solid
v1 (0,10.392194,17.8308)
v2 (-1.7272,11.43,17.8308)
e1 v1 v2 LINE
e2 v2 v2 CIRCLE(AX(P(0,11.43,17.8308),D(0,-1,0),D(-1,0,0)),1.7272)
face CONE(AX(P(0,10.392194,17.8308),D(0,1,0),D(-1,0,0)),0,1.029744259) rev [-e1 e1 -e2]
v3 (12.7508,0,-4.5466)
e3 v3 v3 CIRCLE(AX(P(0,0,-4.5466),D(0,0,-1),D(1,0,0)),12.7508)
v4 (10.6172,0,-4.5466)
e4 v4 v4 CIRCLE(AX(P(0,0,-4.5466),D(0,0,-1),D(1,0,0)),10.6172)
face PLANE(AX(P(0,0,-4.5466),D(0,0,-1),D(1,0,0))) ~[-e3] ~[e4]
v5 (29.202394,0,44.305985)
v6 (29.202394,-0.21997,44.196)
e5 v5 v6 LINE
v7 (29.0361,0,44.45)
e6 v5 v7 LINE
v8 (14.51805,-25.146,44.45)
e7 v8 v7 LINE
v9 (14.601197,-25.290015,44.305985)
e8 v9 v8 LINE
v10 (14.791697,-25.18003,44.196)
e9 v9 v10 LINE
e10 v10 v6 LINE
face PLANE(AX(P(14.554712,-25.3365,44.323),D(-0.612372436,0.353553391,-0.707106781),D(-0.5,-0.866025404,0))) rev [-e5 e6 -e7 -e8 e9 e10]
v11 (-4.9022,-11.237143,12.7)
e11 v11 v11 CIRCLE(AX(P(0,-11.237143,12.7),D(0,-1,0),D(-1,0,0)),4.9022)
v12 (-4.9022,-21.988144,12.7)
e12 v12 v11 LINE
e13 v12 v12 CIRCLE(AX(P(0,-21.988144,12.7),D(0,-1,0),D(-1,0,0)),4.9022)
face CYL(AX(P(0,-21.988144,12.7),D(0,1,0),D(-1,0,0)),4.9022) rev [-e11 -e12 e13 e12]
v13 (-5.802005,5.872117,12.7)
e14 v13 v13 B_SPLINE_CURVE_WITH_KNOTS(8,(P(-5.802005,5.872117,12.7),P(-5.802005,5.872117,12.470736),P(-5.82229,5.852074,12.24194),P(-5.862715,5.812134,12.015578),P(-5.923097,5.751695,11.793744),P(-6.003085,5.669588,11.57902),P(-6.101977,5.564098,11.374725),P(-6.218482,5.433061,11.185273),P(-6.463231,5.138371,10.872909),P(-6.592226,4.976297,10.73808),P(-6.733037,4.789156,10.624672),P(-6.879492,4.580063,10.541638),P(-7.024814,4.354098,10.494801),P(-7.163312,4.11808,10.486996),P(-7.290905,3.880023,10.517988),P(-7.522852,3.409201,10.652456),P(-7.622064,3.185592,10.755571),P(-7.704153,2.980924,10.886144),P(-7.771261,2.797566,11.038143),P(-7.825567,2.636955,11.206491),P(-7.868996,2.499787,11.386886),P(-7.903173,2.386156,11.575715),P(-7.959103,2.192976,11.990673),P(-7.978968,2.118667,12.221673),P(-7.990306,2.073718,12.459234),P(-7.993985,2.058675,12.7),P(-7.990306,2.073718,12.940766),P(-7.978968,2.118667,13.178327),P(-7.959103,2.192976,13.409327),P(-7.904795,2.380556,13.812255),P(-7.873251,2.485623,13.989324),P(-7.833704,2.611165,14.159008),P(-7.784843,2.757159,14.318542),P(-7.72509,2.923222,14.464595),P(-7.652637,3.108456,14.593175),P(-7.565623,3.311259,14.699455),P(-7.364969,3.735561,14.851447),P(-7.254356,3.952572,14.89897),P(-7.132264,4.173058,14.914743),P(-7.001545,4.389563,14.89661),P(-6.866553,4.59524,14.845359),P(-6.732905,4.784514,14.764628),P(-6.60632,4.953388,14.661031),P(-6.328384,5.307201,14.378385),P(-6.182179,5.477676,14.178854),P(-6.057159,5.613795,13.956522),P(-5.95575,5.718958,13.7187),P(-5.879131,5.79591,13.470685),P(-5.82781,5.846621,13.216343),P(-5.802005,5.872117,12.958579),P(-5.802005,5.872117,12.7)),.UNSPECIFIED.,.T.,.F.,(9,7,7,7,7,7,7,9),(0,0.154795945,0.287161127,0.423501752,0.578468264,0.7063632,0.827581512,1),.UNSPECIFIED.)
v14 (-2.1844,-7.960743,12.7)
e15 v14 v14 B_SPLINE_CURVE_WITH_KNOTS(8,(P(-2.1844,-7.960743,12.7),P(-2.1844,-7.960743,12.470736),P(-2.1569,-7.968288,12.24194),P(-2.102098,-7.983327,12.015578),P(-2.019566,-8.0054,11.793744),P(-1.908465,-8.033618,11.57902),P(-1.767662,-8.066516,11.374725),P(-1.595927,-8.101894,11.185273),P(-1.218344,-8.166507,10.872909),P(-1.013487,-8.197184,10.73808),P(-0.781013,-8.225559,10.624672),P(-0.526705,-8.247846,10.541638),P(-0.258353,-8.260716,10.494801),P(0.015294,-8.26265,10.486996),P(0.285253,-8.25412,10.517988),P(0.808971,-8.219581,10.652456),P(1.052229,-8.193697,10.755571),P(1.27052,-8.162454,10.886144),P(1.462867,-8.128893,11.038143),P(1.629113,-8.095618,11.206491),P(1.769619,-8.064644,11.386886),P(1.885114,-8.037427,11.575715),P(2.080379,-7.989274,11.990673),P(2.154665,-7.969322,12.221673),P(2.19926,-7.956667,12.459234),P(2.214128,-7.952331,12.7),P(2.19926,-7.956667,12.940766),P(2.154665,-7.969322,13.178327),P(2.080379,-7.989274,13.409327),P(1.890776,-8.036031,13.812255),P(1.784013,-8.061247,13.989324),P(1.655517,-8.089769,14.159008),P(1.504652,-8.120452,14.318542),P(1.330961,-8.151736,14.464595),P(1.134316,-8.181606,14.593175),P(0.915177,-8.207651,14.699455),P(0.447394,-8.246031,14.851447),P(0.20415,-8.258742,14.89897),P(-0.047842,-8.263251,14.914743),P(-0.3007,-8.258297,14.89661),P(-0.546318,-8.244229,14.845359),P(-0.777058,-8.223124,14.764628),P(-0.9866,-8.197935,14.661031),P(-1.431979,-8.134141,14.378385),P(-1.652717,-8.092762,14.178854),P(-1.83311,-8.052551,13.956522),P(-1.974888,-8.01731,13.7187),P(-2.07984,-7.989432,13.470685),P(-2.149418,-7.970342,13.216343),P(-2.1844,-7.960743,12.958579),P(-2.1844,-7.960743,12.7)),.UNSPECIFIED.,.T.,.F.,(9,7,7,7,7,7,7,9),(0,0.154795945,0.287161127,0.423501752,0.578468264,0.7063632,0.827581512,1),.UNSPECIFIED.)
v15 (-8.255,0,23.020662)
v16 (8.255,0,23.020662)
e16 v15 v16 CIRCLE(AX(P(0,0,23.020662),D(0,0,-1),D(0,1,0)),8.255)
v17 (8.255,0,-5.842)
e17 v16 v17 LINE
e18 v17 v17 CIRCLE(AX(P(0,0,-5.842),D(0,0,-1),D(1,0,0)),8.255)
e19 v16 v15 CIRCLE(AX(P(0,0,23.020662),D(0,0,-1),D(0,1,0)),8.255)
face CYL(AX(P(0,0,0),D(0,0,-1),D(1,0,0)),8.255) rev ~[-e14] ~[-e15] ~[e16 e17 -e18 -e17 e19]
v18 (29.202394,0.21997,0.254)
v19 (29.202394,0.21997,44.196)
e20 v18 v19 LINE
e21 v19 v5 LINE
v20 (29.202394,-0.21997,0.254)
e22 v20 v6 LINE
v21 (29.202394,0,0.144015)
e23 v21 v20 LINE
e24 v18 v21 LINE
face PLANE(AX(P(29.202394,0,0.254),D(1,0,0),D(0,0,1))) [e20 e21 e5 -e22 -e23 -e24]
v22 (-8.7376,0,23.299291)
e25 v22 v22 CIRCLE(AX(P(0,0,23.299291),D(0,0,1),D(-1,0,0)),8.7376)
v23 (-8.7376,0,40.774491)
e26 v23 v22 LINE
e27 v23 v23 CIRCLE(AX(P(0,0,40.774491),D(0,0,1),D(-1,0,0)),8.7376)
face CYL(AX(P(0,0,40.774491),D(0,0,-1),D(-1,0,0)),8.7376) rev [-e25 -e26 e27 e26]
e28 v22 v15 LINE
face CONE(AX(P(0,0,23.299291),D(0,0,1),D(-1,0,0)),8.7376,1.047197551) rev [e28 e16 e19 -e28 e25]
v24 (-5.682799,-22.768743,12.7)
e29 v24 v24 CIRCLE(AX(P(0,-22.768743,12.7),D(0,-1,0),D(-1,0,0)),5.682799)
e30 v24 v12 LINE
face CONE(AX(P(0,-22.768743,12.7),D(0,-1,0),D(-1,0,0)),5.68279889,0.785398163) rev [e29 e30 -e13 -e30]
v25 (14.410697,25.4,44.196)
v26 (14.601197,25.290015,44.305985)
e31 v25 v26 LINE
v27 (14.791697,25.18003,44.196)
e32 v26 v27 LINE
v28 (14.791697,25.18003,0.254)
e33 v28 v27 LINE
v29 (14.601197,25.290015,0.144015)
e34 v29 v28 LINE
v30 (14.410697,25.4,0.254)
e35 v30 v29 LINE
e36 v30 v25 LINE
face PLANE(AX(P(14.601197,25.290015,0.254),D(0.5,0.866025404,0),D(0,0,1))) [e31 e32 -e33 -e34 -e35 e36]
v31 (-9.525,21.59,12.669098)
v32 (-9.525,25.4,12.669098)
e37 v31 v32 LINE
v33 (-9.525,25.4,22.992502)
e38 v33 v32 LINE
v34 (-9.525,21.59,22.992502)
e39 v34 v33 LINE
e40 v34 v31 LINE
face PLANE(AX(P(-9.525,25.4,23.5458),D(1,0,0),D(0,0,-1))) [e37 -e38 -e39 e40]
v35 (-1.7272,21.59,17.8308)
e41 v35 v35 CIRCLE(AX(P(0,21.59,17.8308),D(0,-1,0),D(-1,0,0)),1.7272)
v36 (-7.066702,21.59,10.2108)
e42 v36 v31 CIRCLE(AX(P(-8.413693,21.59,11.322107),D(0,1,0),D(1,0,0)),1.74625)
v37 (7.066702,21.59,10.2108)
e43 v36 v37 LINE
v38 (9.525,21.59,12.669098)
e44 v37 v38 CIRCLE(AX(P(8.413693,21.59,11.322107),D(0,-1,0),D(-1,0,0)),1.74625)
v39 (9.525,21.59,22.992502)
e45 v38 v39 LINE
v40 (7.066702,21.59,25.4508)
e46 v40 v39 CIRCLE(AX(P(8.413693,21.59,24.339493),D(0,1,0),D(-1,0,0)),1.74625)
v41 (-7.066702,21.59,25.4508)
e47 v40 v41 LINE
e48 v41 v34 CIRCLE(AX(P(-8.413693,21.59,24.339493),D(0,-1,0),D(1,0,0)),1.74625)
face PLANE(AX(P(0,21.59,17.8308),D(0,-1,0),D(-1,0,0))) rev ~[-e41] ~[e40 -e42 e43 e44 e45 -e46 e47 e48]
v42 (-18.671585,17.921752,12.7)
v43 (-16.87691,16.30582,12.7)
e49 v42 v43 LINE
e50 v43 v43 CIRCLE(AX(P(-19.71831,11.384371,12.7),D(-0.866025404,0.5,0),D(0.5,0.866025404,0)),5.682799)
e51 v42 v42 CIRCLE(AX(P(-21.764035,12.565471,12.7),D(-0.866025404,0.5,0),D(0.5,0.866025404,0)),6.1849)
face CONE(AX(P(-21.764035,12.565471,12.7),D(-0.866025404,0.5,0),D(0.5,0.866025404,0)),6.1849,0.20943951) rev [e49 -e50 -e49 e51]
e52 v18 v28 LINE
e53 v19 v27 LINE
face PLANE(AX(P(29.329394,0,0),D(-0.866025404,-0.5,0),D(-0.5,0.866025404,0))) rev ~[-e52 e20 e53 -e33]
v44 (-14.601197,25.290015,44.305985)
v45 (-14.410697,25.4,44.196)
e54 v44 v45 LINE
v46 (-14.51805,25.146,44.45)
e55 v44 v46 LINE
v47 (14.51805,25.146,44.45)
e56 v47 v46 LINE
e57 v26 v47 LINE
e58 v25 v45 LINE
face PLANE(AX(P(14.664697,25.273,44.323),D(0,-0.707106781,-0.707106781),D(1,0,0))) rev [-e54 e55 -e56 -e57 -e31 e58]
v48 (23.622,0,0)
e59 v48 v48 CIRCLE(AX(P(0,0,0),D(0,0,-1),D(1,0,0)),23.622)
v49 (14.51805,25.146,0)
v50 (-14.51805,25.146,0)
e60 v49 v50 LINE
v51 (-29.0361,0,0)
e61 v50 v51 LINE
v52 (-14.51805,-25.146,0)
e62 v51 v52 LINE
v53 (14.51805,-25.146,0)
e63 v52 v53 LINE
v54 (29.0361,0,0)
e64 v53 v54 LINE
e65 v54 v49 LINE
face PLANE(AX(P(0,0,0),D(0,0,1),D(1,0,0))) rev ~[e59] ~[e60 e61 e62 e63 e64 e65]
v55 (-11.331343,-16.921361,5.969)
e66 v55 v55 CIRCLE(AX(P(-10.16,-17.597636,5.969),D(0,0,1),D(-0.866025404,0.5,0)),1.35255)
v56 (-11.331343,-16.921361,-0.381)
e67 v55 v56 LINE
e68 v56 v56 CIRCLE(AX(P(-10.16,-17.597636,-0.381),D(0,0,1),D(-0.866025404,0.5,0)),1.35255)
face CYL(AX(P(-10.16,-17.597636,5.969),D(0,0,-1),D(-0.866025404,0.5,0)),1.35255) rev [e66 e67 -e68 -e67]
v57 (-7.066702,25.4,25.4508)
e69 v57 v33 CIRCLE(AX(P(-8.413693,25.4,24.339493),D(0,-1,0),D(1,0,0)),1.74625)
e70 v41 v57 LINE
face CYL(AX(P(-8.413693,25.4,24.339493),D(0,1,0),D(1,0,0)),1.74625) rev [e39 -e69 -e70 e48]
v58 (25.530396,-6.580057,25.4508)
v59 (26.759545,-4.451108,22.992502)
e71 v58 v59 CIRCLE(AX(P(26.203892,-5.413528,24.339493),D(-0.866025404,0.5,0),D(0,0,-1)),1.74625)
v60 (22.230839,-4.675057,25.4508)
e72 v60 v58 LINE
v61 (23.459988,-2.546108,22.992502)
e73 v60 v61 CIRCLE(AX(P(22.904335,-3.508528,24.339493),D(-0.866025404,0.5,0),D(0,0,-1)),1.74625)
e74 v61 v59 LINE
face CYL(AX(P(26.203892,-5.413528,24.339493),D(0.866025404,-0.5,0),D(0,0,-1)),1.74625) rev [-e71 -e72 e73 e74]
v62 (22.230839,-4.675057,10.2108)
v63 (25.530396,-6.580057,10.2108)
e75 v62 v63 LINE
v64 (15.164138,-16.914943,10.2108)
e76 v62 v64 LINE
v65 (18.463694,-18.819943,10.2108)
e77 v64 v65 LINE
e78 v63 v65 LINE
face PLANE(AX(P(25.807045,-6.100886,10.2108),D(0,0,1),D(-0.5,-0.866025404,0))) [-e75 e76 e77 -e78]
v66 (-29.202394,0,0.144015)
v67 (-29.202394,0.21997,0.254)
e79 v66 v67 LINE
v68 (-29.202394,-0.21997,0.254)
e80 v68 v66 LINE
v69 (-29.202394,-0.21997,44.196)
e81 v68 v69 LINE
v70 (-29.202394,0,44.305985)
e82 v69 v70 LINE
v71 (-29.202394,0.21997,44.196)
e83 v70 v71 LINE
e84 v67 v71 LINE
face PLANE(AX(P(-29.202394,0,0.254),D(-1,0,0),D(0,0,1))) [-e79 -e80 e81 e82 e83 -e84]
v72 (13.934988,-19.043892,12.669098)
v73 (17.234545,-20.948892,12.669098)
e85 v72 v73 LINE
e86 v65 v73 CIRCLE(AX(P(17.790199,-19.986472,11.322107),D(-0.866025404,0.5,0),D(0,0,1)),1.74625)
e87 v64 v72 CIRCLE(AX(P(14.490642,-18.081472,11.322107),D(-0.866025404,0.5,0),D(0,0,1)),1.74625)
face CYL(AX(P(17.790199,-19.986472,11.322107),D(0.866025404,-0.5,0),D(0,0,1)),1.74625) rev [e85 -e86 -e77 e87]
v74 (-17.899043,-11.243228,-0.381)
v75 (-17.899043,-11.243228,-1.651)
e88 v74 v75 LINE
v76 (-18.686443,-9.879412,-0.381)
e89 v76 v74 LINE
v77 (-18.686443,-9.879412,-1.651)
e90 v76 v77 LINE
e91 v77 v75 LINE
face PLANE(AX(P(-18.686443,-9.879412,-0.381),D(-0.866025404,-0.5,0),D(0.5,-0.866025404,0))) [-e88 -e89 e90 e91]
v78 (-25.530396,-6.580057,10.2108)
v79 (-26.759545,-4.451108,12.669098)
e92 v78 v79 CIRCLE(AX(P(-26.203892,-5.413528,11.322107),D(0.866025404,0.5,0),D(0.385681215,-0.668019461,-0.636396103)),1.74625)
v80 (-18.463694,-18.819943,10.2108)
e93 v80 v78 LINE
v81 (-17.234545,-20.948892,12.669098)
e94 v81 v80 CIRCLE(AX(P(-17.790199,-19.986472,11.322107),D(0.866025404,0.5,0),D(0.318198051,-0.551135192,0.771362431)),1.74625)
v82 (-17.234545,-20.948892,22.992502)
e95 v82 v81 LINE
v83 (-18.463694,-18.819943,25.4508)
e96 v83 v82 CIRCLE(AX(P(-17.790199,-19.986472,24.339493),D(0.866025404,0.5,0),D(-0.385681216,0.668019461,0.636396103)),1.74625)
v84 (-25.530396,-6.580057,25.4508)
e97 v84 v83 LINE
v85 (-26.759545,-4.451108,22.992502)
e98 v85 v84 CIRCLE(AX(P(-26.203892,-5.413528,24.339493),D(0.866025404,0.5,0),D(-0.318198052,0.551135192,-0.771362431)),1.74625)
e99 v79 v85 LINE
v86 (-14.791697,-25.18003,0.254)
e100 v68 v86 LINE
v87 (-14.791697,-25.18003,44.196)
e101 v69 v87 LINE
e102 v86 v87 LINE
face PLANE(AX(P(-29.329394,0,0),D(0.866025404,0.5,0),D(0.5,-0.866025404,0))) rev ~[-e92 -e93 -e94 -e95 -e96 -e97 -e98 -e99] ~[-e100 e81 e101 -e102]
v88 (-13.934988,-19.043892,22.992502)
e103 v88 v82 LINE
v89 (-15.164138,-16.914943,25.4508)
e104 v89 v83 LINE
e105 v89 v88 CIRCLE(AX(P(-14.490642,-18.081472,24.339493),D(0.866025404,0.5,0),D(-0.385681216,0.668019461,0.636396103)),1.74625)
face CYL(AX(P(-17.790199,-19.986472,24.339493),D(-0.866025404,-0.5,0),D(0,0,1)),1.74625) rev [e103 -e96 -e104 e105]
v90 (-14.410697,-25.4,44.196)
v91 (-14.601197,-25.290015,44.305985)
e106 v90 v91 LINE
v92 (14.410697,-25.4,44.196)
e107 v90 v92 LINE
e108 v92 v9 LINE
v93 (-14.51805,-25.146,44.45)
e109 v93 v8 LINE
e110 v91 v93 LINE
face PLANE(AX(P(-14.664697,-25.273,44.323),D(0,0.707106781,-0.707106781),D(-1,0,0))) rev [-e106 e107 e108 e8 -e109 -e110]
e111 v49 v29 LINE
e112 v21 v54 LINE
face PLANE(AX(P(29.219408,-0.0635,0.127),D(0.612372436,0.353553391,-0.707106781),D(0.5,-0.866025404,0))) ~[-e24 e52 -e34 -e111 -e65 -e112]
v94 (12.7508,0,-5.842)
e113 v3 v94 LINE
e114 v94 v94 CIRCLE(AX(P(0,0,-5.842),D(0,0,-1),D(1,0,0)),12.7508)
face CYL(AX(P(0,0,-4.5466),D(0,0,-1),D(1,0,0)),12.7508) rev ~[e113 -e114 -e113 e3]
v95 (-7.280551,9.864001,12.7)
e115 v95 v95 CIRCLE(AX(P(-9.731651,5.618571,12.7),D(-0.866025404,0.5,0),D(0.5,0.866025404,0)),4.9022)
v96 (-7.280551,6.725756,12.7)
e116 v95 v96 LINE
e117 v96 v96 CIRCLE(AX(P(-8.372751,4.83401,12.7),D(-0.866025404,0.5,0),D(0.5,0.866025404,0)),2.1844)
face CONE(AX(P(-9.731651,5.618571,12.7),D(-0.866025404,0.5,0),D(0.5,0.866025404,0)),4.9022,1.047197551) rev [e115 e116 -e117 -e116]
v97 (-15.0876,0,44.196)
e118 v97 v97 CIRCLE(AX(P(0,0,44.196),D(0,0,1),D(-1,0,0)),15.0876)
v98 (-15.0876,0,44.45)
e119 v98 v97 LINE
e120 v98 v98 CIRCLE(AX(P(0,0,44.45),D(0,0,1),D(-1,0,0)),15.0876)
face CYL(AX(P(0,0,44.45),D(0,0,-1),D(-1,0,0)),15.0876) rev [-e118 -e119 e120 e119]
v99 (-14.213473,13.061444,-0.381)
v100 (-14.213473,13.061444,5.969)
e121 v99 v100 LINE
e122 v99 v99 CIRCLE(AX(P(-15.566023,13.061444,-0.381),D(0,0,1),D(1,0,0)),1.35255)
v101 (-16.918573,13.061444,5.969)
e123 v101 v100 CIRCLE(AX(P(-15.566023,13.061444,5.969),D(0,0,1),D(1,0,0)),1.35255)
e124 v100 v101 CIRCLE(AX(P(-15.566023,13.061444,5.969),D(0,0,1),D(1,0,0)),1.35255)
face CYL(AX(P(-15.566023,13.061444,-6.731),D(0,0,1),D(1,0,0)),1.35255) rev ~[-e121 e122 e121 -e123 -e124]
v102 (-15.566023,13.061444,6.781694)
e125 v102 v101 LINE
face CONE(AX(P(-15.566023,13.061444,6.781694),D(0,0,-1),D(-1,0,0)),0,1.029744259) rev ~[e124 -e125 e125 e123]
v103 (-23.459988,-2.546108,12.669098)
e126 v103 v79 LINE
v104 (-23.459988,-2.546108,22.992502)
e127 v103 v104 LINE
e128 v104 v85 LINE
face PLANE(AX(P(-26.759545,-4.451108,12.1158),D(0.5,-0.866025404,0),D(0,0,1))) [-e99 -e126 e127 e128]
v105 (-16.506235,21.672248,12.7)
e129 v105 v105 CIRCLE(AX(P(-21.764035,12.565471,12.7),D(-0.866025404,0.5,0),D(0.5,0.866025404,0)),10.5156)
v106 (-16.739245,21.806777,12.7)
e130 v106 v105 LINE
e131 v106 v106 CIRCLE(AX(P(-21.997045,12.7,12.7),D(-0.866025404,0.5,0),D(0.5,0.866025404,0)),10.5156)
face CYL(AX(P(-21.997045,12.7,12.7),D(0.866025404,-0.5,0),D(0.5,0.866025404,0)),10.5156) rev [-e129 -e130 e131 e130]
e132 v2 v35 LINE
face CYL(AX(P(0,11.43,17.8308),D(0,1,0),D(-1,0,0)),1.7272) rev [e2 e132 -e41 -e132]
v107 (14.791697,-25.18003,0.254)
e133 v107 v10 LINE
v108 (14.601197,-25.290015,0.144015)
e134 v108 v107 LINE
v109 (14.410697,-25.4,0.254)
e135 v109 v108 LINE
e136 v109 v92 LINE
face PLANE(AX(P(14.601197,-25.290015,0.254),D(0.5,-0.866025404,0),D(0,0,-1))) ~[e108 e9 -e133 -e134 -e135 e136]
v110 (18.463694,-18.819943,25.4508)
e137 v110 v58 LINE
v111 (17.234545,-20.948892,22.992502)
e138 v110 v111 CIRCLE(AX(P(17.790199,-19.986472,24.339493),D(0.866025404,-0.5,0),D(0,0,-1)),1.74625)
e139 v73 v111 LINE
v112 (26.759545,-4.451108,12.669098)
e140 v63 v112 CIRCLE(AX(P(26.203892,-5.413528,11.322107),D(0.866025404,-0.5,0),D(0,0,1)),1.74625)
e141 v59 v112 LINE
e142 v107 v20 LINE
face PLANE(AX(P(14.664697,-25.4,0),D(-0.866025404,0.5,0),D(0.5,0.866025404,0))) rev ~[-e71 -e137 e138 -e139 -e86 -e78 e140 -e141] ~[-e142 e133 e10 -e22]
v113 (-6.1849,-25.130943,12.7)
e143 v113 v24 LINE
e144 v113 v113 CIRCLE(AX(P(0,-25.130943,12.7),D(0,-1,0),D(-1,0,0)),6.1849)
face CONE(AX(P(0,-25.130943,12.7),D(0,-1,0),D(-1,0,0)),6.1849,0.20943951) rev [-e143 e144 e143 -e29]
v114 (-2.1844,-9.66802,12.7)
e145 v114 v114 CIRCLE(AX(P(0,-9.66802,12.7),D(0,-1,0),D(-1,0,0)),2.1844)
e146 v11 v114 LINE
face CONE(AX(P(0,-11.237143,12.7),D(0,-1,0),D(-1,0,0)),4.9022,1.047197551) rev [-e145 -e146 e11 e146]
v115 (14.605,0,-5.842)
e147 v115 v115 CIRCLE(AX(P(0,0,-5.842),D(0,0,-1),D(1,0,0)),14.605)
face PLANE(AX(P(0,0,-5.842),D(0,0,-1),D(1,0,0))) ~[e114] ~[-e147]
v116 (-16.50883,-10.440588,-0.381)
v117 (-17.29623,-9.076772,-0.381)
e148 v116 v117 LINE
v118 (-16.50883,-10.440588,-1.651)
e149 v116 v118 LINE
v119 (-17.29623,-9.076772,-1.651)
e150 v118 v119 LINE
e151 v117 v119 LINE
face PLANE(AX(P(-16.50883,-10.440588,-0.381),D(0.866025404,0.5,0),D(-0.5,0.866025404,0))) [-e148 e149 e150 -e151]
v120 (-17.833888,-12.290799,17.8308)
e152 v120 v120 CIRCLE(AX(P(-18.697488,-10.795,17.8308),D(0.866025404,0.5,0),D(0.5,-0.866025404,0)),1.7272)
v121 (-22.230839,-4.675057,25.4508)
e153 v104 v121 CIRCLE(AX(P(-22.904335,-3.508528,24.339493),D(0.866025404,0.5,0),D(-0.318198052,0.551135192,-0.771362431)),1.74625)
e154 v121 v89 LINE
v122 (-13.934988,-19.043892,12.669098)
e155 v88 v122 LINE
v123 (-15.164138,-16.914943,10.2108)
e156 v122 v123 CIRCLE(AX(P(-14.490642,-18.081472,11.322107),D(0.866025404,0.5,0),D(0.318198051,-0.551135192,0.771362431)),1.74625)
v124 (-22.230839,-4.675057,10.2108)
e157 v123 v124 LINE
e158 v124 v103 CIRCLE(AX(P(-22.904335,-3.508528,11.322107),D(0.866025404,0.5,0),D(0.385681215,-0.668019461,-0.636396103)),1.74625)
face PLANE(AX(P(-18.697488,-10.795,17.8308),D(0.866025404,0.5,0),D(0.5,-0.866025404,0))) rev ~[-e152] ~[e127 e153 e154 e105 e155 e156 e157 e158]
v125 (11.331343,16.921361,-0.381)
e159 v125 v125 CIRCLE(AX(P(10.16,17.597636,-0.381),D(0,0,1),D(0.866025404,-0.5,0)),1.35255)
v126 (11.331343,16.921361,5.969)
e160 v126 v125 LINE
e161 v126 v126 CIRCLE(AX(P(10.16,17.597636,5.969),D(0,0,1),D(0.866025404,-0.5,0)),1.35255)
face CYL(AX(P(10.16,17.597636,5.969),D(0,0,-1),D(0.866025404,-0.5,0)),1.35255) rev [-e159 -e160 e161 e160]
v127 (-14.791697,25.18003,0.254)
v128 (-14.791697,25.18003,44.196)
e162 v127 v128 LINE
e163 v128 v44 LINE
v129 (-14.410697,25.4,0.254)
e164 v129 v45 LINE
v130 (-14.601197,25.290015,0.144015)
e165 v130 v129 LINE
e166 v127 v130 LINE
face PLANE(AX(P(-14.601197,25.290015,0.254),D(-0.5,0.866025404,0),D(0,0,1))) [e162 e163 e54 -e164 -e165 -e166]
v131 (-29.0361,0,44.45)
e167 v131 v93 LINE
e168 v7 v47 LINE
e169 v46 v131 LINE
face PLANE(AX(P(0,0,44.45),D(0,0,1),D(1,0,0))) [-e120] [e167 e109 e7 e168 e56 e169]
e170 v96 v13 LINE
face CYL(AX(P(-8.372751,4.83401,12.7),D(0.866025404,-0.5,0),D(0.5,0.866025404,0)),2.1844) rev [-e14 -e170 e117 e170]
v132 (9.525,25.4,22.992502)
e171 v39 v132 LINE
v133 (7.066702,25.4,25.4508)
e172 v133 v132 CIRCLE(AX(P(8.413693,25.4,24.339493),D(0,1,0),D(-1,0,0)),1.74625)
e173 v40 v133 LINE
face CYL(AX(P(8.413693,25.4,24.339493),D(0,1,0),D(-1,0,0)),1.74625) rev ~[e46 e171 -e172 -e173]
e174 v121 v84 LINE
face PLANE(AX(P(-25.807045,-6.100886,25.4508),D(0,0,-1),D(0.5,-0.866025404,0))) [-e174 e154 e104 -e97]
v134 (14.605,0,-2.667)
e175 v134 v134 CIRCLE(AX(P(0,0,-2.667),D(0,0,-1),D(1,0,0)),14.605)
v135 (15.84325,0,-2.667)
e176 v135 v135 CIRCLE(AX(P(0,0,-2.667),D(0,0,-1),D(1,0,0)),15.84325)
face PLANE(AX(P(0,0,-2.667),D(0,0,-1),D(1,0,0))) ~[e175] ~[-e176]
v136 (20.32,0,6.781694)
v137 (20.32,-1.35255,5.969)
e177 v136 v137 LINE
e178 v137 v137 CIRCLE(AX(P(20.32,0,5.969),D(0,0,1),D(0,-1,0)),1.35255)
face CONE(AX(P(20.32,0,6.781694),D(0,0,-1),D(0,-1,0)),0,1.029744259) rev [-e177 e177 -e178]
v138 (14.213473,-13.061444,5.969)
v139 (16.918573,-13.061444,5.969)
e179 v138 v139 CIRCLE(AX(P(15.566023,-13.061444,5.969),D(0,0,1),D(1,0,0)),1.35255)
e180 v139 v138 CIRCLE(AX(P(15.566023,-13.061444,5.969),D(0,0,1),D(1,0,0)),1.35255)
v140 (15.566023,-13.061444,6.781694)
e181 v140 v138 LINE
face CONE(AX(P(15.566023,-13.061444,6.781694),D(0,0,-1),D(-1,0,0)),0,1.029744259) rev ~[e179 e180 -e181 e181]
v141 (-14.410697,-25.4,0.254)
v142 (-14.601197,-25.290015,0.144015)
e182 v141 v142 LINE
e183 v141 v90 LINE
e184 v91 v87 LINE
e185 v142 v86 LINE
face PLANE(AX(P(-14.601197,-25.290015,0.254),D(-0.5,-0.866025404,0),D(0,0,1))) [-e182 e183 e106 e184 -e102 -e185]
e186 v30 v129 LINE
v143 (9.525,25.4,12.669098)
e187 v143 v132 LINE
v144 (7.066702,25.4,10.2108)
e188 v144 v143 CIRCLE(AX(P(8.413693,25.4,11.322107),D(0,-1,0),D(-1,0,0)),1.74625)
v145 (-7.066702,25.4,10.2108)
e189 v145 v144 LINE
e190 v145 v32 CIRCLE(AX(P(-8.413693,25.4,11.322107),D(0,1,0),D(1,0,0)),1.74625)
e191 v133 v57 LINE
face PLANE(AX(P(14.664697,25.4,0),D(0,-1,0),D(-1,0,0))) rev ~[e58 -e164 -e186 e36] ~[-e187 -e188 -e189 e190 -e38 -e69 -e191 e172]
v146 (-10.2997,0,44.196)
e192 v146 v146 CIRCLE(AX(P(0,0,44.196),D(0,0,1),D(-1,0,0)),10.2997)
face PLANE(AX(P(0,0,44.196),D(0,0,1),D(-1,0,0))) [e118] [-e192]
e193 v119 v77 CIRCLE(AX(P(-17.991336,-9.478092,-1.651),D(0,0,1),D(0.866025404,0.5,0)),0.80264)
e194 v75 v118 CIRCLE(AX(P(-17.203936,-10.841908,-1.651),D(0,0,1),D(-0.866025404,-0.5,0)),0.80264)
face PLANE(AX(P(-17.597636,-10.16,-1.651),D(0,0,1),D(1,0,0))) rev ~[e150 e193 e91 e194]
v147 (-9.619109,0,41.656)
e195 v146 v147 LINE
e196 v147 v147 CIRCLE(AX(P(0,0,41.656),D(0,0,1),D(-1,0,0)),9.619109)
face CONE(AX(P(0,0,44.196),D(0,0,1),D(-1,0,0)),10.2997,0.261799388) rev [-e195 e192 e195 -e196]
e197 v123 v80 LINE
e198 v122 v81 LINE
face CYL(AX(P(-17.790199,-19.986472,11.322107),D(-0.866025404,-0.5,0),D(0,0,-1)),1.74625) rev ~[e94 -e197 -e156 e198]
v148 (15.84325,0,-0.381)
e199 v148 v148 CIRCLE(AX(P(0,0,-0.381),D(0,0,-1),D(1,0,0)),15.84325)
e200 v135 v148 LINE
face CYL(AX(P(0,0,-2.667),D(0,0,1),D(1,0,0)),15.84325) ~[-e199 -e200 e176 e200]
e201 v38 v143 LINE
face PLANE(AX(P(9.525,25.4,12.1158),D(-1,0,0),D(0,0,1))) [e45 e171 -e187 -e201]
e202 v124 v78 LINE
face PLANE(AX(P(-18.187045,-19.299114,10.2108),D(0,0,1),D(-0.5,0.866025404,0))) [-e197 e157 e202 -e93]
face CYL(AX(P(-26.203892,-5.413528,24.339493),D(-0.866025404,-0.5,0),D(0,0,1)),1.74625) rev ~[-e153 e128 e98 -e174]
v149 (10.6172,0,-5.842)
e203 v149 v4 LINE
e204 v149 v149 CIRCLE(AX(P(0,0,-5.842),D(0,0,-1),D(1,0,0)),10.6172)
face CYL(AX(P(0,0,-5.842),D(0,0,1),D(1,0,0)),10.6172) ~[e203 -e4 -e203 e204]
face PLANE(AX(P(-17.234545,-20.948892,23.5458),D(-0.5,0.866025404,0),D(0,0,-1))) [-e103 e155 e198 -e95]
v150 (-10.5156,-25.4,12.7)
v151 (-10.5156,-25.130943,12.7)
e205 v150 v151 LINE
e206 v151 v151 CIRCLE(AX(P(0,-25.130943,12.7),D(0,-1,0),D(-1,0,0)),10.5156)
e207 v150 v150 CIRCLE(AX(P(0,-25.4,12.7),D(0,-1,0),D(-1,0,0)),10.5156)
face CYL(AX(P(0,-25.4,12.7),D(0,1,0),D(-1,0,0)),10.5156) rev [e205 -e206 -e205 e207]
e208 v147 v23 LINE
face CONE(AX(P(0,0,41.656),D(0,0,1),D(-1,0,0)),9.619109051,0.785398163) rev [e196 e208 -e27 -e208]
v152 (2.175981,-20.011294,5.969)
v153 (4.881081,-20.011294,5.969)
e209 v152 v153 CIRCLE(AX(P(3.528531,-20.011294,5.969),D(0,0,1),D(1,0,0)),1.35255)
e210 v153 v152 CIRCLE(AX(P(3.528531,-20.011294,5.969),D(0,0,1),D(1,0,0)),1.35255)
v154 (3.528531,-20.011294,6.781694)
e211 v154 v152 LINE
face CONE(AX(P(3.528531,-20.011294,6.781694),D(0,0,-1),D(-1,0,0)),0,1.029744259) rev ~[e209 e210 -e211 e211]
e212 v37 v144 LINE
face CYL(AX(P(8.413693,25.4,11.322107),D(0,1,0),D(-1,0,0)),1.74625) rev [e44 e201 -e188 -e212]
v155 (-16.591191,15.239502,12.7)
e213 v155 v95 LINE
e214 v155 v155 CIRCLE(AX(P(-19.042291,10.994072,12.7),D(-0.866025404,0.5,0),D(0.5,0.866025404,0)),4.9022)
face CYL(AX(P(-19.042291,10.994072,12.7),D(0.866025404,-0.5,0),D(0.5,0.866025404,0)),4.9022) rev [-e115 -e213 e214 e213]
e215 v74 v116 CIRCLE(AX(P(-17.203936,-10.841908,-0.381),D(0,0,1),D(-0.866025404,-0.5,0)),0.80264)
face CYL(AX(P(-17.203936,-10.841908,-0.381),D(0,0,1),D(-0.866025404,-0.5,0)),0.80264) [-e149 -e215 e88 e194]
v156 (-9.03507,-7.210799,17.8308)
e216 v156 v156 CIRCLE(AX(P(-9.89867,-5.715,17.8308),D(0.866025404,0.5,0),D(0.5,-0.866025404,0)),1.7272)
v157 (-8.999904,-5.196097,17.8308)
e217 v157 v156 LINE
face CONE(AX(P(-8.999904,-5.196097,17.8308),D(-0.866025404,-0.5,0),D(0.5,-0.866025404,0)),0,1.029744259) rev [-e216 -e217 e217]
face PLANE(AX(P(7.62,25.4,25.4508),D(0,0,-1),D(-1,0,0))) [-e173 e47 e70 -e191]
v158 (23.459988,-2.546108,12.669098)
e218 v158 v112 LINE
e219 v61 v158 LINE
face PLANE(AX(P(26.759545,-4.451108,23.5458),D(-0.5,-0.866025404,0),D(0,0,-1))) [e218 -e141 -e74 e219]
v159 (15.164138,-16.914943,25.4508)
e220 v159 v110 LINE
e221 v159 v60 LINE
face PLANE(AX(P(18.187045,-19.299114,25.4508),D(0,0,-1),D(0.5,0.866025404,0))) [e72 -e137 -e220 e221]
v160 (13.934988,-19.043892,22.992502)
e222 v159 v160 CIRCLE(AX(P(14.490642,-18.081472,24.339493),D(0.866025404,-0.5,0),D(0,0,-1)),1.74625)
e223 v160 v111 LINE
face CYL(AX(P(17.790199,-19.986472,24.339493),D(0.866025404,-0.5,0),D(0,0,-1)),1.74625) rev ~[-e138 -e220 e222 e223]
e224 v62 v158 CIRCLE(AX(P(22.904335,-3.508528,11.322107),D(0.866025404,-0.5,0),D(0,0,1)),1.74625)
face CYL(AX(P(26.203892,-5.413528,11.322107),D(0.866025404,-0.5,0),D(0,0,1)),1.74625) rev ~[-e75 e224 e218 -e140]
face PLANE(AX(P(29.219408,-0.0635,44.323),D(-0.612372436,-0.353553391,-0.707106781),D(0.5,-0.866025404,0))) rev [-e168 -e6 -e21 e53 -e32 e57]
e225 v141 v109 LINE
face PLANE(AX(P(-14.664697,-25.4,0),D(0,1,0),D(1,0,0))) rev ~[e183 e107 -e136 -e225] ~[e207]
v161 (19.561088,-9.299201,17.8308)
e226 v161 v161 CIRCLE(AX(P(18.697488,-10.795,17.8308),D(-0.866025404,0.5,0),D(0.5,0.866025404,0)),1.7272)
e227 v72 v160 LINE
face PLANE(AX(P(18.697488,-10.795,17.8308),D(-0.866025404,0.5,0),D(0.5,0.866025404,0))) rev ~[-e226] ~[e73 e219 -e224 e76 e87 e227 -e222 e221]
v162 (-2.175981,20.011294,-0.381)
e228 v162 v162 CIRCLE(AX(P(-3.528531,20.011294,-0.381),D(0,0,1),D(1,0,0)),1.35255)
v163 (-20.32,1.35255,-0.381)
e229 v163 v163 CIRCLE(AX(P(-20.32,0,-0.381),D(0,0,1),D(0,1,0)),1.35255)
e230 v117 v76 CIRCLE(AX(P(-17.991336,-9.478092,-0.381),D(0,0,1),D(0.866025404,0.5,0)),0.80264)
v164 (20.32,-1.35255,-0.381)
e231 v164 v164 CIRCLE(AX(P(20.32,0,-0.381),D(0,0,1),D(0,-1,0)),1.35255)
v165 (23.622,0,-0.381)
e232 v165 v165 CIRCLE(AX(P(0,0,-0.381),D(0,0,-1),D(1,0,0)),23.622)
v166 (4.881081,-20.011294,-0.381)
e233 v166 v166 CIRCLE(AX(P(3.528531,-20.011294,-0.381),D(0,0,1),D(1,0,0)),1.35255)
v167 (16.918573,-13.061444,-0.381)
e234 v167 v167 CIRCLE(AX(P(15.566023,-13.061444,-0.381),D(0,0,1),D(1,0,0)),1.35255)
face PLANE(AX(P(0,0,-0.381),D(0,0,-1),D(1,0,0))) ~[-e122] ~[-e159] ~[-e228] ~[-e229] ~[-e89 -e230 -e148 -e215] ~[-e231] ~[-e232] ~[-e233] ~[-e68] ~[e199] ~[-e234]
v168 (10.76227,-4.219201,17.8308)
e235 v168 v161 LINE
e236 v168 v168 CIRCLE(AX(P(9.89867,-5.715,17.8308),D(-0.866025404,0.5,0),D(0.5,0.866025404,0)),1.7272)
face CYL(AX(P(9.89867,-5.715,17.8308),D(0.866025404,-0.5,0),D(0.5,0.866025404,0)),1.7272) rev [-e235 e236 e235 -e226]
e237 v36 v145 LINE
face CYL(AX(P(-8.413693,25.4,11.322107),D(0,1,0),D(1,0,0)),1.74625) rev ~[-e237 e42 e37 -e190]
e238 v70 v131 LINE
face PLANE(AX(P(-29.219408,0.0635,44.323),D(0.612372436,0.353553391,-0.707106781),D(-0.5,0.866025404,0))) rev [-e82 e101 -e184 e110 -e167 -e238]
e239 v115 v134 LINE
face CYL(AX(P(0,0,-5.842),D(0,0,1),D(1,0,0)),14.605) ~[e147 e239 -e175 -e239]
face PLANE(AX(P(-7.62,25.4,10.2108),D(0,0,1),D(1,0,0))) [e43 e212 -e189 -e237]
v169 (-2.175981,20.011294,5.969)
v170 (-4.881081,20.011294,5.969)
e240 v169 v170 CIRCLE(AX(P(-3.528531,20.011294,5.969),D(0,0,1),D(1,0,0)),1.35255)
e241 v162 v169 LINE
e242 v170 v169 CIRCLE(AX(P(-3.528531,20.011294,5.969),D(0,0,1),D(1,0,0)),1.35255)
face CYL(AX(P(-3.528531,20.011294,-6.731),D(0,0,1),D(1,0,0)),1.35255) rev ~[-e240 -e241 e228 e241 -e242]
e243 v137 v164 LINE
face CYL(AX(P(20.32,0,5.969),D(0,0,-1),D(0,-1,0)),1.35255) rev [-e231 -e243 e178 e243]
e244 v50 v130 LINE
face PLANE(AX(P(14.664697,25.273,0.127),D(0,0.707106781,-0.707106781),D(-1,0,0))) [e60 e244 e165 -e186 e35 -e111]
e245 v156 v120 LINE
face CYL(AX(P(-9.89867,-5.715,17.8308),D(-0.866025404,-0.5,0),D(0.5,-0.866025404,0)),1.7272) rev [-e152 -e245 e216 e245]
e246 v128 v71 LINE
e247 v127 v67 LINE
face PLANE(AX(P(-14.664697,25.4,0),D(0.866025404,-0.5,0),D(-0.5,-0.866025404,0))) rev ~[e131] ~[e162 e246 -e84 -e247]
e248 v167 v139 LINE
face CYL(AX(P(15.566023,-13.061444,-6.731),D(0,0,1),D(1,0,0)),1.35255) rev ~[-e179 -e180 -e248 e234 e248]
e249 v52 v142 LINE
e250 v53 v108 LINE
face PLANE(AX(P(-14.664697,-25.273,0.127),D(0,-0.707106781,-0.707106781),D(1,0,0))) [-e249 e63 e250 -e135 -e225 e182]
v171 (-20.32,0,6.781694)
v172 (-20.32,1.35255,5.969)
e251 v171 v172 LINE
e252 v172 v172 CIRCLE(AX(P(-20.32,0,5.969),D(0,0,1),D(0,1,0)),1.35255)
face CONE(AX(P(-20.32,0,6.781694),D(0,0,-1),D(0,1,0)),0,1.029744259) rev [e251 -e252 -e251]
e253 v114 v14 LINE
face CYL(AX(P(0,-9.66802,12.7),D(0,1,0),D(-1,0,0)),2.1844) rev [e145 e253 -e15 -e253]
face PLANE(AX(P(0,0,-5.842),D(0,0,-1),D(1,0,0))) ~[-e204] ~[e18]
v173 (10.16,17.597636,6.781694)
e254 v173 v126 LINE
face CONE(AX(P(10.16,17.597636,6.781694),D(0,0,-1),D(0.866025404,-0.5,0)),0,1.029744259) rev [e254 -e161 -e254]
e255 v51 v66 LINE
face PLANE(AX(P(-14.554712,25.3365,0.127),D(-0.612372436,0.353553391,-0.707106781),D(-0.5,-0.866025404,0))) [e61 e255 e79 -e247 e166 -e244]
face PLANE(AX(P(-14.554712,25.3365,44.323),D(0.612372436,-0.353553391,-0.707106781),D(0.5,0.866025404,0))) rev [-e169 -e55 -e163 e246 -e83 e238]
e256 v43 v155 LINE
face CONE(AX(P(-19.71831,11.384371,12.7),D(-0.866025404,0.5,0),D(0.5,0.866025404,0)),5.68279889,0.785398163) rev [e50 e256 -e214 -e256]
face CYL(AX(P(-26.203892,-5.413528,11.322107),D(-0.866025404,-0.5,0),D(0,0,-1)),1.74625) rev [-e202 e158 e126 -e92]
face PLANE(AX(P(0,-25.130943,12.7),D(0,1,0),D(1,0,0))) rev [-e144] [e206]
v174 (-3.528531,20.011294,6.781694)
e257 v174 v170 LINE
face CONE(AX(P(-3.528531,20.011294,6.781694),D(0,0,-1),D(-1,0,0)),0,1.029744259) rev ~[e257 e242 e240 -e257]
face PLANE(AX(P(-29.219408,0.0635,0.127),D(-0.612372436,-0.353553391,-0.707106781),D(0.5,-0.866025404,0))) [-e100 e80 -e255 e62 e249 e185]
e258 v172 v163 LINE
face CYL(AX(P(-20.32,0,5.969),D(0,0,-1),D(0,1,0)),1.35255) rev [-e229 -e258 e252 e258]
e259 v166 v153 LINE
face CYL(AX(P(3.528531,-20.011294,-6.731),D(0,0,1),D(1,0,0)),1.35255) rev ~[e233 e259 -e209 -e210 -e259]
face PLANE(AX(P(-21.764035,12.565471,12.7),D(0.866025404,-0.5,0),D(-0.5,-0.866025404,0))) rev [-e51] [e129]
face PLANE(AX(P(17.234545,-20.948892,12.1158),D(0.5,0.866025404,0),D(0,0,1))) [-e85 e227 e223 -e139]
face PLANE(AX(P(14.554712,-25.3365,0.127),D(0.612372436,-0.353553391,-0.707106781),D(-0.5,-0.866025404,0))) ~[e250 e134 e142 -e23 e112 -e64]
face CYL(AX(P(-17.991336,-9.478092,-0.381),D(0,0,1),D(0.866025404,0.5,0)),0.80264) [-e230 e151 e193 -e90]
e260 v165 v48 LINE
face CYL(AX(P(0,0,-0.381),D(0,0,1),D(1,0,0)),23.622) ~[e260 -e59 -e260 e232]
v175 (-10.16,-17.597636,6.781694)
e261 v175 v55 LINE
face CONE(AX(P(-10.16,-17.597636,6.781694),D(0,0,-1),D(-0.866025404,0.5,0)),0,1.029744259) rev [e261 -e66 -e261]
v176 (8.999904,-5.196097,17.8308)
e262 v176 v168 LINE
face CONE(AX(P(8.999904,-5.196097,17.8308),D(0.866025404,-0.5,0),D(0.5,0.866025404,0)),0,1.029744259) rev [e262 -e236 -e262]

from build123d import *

# Parameters (mm, degrees)
SKETCH1_R                 = 8.255
BOSS_EXTRUDE1_DEPTH       = 44.45
CHAMFER1_SIZE             = 0.254
CHAMFER2_SIZE             = 0.254
CUT_EXTRUDE16_DEPTH       = 3.81
CIRPATTERN3_COUNT         = 3
CIRPATTERN4_COUNT         = 2
CIRPATTERN4_ANGLE         = 120
CIRPATTERN5_COUNT         = 3
CIRPATTERN6_COUNT         = 2
CIRPATTERN6_ANGLE         = 60
CIRPATTERN7_COUNT         = 2
F_6_32_TAPPED_HOLE2_D     = 2.7051
F_6_32_TAPPED_HOLE2_DEPTH = 6.35
F_6_32_TAPPED_HOLE2_TIP   = 0.81269403
BOSS_EXTRUDE2_DEPTH       = 1.27
CHAMFER3_SIZE             = 0.254
CHAMFER3_EDGE_2_SIZE      = 0.254
CHAMFER3_EDGE_3_SIZE      = 0.254
CHAMFER3_EDGE_4_SIZE      = 0.254
CHAMFER3_EDGE_5_SIZE      = 0.254
CHAMFER3_EDGE_6_SIZE      = 0.254
SKETCH60_R                = 1.74625
CUT_EXTRUDE17_DEPTH       = 3.81
MIRROR2_COPY_1_SKETCH_R   = 1.74625
MIRROR2_COPY_1_DEPTH      = 3.81
SKETCH61_R                = 1.74625
CUT_EXTRUDE18_DEPTH       = 3.81
MIRROR4_COPY_1_SKETCH_R   = 1.74625
MIRROR4_COPY_1_DEPTH      = 3.81
SKETCH62_R                = 1.74625
CUT_EXTRUDE19_DEPTH       = 3.81
MIRROR6_COPY_1_SKETCH_R   = 1.74625
MIRROR6_COPY_1_DEPTH      = 3.81


with BuildPart() as part:
    # Sketch1 → Boss-Extrude1 (new body)
    with BuildSketch(Plane.XY):
        Polygon((29.329393675, 0), (14.664696837, 25.4), (-14.664696837, 25.4), (-29.329393675, 0), (-14.664696837, -25.4), (14.664696837, -25.4), align=None)
        Circle(SKETCH1_R, mode=Mode.SUBTRACT)
    extrude(amount=BOSS_EXTRUDE1_DEPTH)

    # Chamfer1
    chamfer1_edges = [part.edges().sort_by_distance(p)[0] for p in [
        (0, 25.4, 44.45),
        (-21.997045256, 12.7, 44.45),
        (-21.997045256, -12.7, 44.45),
        (0, -25.4, 44.45),
        (21.997045256, -12.7, 44.45),
        (21.997045256, 12.7, 44.45),
    ]]
    chamfer(chamfer1_edges, length=CHAMFER1_SIZE)

    # Chamfer2
    chamfer2_edges = [part.edges().sort_by_distance(p)[0] for p in [
        (0, -25.4, 0),
        (-21.997045256, -12.7, 0),
        (-21.997045256, 12.7, 0),
        (0, 25.4, 0),
        (21.997045256, 12.7, 0),
        (21.997045256, -12.7, 0),
    ]]
    chamfer(chamfer2_edges, length=CHAMFER2_SIZE)

    # Sketch42 → Cut-Extrude16 (cut)
    with BuildSketch(Plane(origin=(0, 25.4, 0), x_dir=(1, 0, 0), z_dir=(0, 1, 0))):
        with BuildLine():
            Line((-7.62, -10.2108), (7.62, -10.2108))
            ThreePointArc((7.62, -10.2108), (8.967038418, -10.768761582), (9.525, -12.1158))
            Line((9.525, -12.1158), (9.525, -23.5458))
            ThreePointArc((9.525, -23.5458), (8.967038418, -24.892838418), (7.62, -25.4508))
            Line((7.62, -25.4508), (-7.62, -25.4508))
            ThreePointArc((-7.62, -25.4508), (-8.967038418, -24.892838418), (-9.525, -23.5458))
            Line((-9.525, -23.5458), (-9.525, -12.1158))
            ThreePointArc((-9.525, -12.1158), (-8.967038418, -10.768761582), (-7.62, -10.2108))
        make_face()
    cut_extrude16 = extrude(amount=-CUT_EXTRUDE16_DEPTH, mode=Mode.SUBTRACT)

    # Sketch43 → Cut-Revolve1 (revolve, cut)
    with BuildSketch(Plane(origin=(0, 0, 0), x_dir=(1, 0, 0), z_dir=(0, 1, 0)), mode=Mode.PRIVATE) as cut_revolve1_sk:
        Polygon((10.2997, -44.196), (9.619109051, -41.656), (8.7376, -40.774490949), (8.7376, -23.299290949), (4.9657, -21.121583468), (0, -21.121583468), (0, -44.45), (15.0876, -44.45), (15.0876, -44.196), align=None)
    revolve(cut_revolve1_sk.sketch.rotate(Axis((0, 0, 44.45), (0, 0, 1)), 180), axis=Axis((0, 0, 44.45), (0, 0, 1)), mode=Mode.SUBTRACT)

    # CirPattern3: Cut-Extrude16 ×3 about axis
    cirpattern3_axis = Axis((0, 0, 0), (0, 0, 1))
    for i in range(1, CIRPATTERN3_COUNT):
        add(cut_extrude16.rotate(cirpattern3_axis, i * 360 / CIRPATTERN3_COUNT), mode=Mode.SUBTRACT)

    # Sketch44 → Cut-Revolve2 (revolve, cut)
    with BuildSketch(Plane.XY.offset(12.7), mode=Mode.PRIVATE) as cut_revolve2_sk:
        Polygon((-24.856484742, 7.209190797), (-22.559708978, 6.462923113), (-21.493391064, 6.748642137), (-12.182750987, 1.373141582), (-9.464950987, 2.942264144), (-2.86583741, -0.867735856), (-1.77363741, 1.024010036), (-21.764034742, 12.565471317), (-21.997045256, 12.7), (-27.254845256, 3.593223264), (-27.021834742, 3.458694581), align=None)
    cut_revolve2 = revolve(cut_revolve2_sk.sketch.rotate(Axis((-1.77363741, 1.024010036, 12.7), (-0.8660254037844387, 0.5, 0)), 180), axis=Axis((-1.77363741, 1.024010036, 12.7), (-0.8660254037844387, 0.5, 0)), mode=Mode.SUBTRACT)

    # CirPattern4: Cut-Revolve2 ×2 about axis
    cirpattern4_axis = Axis((0, 0, 0), (0, 0, 1))
    for i in range(1, CIRPATTERN4_COUNT):
        add(cut_revolve2.rotate(cirpattern4_axis, i * CIRPATTERN4_ANGLE / (CIRPATTERN4_COUNT - 1)), mode=Mode.SUBTRACT)

    # Sketch47 → #8-32 Tapped Hole1 (revolve, cut)
    with BuildSketch(Plane(origin=(-18.697488468, -10.795, 17.8308), x_dir=(0.5000000000000042, -0.8660254037844362, 0), z_dir=(0, 0, 1))):
        Polygon((0, 0), (0, 11.197806461), (1.7272, 10.16), (1.7272, 0), align=None)
    f_8_32_tapped_hole1 = revolve(axis=Axis((-24.196749782, -13.97, 17.8308), (0.8660254037844362, 0.5000000000000042, 0)), mode=Mode.SUBTRACT)

    # CirPattern5: #8-32 Tapped Hole1 ×3 about axis
    cirpattern5_axis = Axis((0, 0, 0), (0, 0, 1))
    for i in range(1, CIRPATTERN5_COUNT):
        add(f_8_32_tapped_hole1.rotate(cirpattern5_axis, i * 360 / CIRPATTERN5_COUNT), mode=Mode.SUBTRACT)

    # Sketch49 → Revolve1 (revolve)
    with BuildSketch(Plane(origin=(0, 0, 0), x_dir=(0, 0, -1), z_dir=(1, 0, 0)), mode=Mode.PRIVATE) as revolve1_sk:
        Polygon((0, 23.622), (0, 8.255), (5.842, 8.255), (5.842, 10.6172), (4.5466, 10.6172), (4.5466, 12.7508), (5.842, 12.7508), (5.842, 14.605), (2.667, 14.605), (2.667, 15.84325), (0.381, 15.84325), (0.381, 23.622), align=None)
    revolve(revolve1_sk.sketch.rotate(Axis((0, 0, 0), (0, 0, -1)), 90), axis=Axis((0, 0, 0), (0, 0, -1)))

    # Sketch25 → #6-32 Tapped Hole1 (revolve, cut)
    with BuildSketch(Plane(origin=(-20.32, 0, -0.381), x_dir=(0, 1, 0), z_dir=(1, 0, 0))):
        Polygon((0, 0), (0, 7.16269403), (1.35255, 6.35), (1.35255, 0), align=None)
    f_6_32_tapped_hole1 = revolve(axis=Axis((-20.32, 0, -6.731), (0, 0, 1)), mode=Mode.SUBTRACT)

    # CirPattern6: #6-32 Tapped Hole1 ×2 about axis
    cirpattern6_axis = Axis((0, 0, -5.842), (0, 0, 1))
    for i in range(1, CIRPATTERN6_COUNT):
        add(f_6_32_tapped_hole1.rotate(cirpattern6_axis, i * CIRPATTERN6_ANGLE / (CIRPATTERN6_COUNT - 1)), mode=Mode.SUBTRACT)

    # CirPattern7: #6-32 Tapped Hole1 ×2 about axis
    cirpattern7_axis = Axis((0, 0, 0), (0, 0, 1))
    for i in range(1, CIRPATTERN7_COUNT):
        add(f_6_32_tapped_hole1.rotate(cirpattern7_axis, i * 360 / CIRPATTERN7_COUNT), mode=Mode.SUBTRACT)

    # CirPattern7 copy 1 sketch → CirPattern7 copy 1 (revolve, cut)
    with BuildSketch(Plane(origin=(10.16, 17.597636205, -0.381), x_dir=(0.8660254037844397, -0.4999999999999981, 0), z_dir=(-0.4999999999999981, -0.8660254037844397, 0))):
        Polygon((0, 0), (0, 7.16269403), (1.35255, 6.35), (1.35255, 0), align=None)
    revolve(axis=Axis((10.16, 17.597636205, -6.731), (0, 0, 1)), mode=Mode.SUBTRACT)

    # #6-32 Tapped Hole2
    with Locations(Plane(origin=(0, 0, -0.381), x_dir=(-1, 0, 0), z_dir=(0, 0, -1))):
        with Locations((15.566023084, 13.061444229), (3.52853097, 20.011293541), (-15.566023084, -13.061444229), (-3.52853097, -20.011293541)):
            Hole(F_6_32_TAPPED_HOLE2_D / 2, depth=F_6_32_TAPPED_HOLE2_DEPTH)
            with Locations((0, 0, -(F_6_32_TAPPED_HOLE2_DEPTH + F_6_32_TAPPED_HOLE2_TIP / 2))):  # 118° drill point
                Cone(0, F_6_32_TAPPED_HOLE2_D / 2, F_6_32_TAPPED_HOLE2_TIP, mode=Mode.SUBTRACT)

    # Sketch50 → Boss-Extrude2 (add)
    with BuildSketch(Plane(origin=(0, 0, -0.381), x_dir=(-1, 0, 0), z_dir=(0, 0, -1))):
        with BuildLine():
            Line((16.508829575, -10.440588403), (17.296229575, -9.076771597))
            ThreePointArc((17.296229575, -9.076771597), (18.392656205, -8.782984967), (18.686442835, -9.879411597))
            Line((18.686442835, -9.879411597), (17.899042835, -11.243228403))
            ThreePointArc((17.899042835, -11.243228403), (16.802616205, -11.537015033), (16.508829575, -10.440588403))
        make_face()
    extrude(amount=BOSS_EXTRUDE2_DEPTH)

    # Chamfer3
    chamfer3_edges = [part.edges().sort_by_distance(p)[0] for p in [
        (14.664696837, -25.4, 22.225),
    ]]
    chamfer(chamfer3_edges, length=CHAMFER3_SIZE)

    # Chamfer3 edge 2
    chamfer3_edge_2_edges = [part.edges().sort_by_distance(p)[0] for p in [
        (-14.664696837, -25.4, 22.225),
    ]]
    chamfer(chamfer3_edge_2_edges, length=CHAMFER3_EDGE_2_SIZE)

    # Chamfer3 edge 3
    chamfer3_edge_3_edges = [part.edges().sort_by_distance(p)[0] for p in [
        (-29.329393675, 0, 22.225),
    ]]
    chamfer(chamfer3_edge_3_edges, length=CHAMFER3_EDGE_3_SIZE)

    # Chamfer3 edge 4
    chamfer3_edge_4_edges = [part.edges().sort_by_distance(p)[0] for p in [
        (-14.664696837, 25.4, 22.225),
    ]]
    chamfer(chamfer3_edge_4_edges, length=CHAMFER3_EDGE_4_SIZE)

    # Chamfer3 edge 5
    chamfer3_edge_5_edges = [part.edges().sort_by_distance(p)[0] for p in [
        (14.664696837, 25.4, 22.225),
    ]]
    chamfer(chamfer3_edge_5_edges, length=CHAMFER3_EDGE_5_SIZE)

    # Chamfer3 edge 6
    chamfer3_edge_6_edges = [part.edges().sort_by_distance(p)[0] for p in [
        (29.329393675, 0, 22.225),
    ]]
    chamfer(chamfer3_edge_6_edges, length=CHAMFER3_EDGE_6_SIZE)

    # Sketch60 → Cut-Extrude17 (cut)
    with BuildSketch(Plane(origin=(0, 25.4, 0), x_dir=(1, 0, 0), z_dir=(0, 1, 0))):
        with Locations((-8.413693305, -11.322106695)):
            Circle(SKETCH60_R)
    cut_extrude17 = extrude(amount=-CUT_EXTRUDE17_DEPTH, mode=Mode.SUBTRACT)

    # Mirror1: Cut-Extrude17 across plane
    add(cut_extrude17.mirror(Plane(origin=(0, 0, 0), x_dir=(0, 0, 1), z_dir=(1, 0, 0))), mode=Mode.SUBTRACT)

    # Mirror2: Cut-Extrude17 across plane
    add(cut_extrude17.mirror(Plane.XY.offset(17.8308)), mode=Mode.SUBTRACT)

    # Mirror2 copy 1 sketch → Mirror2 copy 1 (cut)
    with BuildSketch(Plane(origin=(0, 25.4, 35.6616), x_dir=(-1, 0, 0), z_dir=(0, 1, 0))):
        with Locations((-8.413693305, -11.322106695)):
            Circle(MIRROR2_COPY_1_SKETCH_R)
    extrude(amount=-MIRROR2_COPY_1_DEPTH, mode=Mode.SUBTRACT)

    # Sketch61 → Cut-Extrude18 (cut)
    with BuildSketch(Plane(origin=(-21.997045256, -12.7, 0), x_dir=(0, 0, 1), z_dir=(-0.8660254037844388, -0.49999999999999967, 0))):
        with Locations((24.339493305, 8.413693305)):
            Circle(SKETCH61_R)
    cut_extrude18 = extrude(amount=-CUT_EXTRUDE18_DEPTH, mode=Mode.SUBTRACT)

    # Mirror3: Cut-Extrude18 across plane
    add(cut_extrude18.mirror(Plane(origin=(0, 0, 0), x_dir=(0, 0, 1), z_dir=(0.5000000000000041, -0.8660254037844364, 0))), mode=Mode.SUBTRACT)

    # Mirror4: Cut-Extrude18 across plane
    add(cut_extrude18.mirror(Plane(origin=(0, 0, 17.8308), x_dir=(1, 0, 0), z_dir=(0, 0, -1))), mode=Mode.SUBTRACT)

    # Mirror4 copy 1 sketch → Mirror4 copy 1 (cut)
    with BuildSketch(Plane(origin=(-21.997045256, -12.7, 35.6616), x_dir=(0, 0, -1), z_dir=(-0.8660254037844337, -0.5000000000000084, 0))):
        with Locations((24.339493305, 8.413693305)):
            Circle(MIRROR4_COPY_1_SKETCH_R)
    extrude(amount=-MIRROR4_COPY_1_DEPTH, mode=Mode.SUBTRACT)

    # Sketch62 → Cut-Extrude19 (cut)
    with BuildSketch(Plane(origin=(21.997045256, -12.7, 0), x_dir=(0, 0, -1), z_dir=(0.8660254037844389, -0.49999999999999983, 0))):
        with Locations((-24.339493305, -8.413693305)):
            Circle(SKETCH62_R)
    cut_extrude19 = extrude(amount=-CUT_EXTRUDE19_DEPTH, mode=Mode.SUBTRACT)

    # Mirror5: Cut-Extrude19 across plane
    add(cut_extrude19.mirror(Plane(origin=(0, 0, 0), x_dir=(0, 0, 1), z_dir=(0.49999999999999195, 0.8660254037844434, 0))), mode=Mode.SUBTRACT)

    # Mirror6: Cut-Extrude19 across plane
    add(cut_extrude19.mirror(Plane(origin=(0, 0, 17.8308), x_dir=(1, 0, 0), z_dir=(0, 0, -1))), mode=Mode.SUBTRACT)

    # Mirror6 copy 1 sketch → Mirror6 copy 1 (cut)
    with BuildSketch(Plane(origin=(21.997045256, -12.7, 35.6616), x_dir=(0, 0, 1), z_dir=(0.8660254037844479, -0.4999999999999841, 0))):
        with Locations((-24.339493305, -8.413693305)):
            Circle(MIRROR6_COPY_1_SKETCH_R)
    extrude(amount=-MIRROR6_COPY_1_DEPTH, mode=Mode.SUBTRACT)


solid = part.part
